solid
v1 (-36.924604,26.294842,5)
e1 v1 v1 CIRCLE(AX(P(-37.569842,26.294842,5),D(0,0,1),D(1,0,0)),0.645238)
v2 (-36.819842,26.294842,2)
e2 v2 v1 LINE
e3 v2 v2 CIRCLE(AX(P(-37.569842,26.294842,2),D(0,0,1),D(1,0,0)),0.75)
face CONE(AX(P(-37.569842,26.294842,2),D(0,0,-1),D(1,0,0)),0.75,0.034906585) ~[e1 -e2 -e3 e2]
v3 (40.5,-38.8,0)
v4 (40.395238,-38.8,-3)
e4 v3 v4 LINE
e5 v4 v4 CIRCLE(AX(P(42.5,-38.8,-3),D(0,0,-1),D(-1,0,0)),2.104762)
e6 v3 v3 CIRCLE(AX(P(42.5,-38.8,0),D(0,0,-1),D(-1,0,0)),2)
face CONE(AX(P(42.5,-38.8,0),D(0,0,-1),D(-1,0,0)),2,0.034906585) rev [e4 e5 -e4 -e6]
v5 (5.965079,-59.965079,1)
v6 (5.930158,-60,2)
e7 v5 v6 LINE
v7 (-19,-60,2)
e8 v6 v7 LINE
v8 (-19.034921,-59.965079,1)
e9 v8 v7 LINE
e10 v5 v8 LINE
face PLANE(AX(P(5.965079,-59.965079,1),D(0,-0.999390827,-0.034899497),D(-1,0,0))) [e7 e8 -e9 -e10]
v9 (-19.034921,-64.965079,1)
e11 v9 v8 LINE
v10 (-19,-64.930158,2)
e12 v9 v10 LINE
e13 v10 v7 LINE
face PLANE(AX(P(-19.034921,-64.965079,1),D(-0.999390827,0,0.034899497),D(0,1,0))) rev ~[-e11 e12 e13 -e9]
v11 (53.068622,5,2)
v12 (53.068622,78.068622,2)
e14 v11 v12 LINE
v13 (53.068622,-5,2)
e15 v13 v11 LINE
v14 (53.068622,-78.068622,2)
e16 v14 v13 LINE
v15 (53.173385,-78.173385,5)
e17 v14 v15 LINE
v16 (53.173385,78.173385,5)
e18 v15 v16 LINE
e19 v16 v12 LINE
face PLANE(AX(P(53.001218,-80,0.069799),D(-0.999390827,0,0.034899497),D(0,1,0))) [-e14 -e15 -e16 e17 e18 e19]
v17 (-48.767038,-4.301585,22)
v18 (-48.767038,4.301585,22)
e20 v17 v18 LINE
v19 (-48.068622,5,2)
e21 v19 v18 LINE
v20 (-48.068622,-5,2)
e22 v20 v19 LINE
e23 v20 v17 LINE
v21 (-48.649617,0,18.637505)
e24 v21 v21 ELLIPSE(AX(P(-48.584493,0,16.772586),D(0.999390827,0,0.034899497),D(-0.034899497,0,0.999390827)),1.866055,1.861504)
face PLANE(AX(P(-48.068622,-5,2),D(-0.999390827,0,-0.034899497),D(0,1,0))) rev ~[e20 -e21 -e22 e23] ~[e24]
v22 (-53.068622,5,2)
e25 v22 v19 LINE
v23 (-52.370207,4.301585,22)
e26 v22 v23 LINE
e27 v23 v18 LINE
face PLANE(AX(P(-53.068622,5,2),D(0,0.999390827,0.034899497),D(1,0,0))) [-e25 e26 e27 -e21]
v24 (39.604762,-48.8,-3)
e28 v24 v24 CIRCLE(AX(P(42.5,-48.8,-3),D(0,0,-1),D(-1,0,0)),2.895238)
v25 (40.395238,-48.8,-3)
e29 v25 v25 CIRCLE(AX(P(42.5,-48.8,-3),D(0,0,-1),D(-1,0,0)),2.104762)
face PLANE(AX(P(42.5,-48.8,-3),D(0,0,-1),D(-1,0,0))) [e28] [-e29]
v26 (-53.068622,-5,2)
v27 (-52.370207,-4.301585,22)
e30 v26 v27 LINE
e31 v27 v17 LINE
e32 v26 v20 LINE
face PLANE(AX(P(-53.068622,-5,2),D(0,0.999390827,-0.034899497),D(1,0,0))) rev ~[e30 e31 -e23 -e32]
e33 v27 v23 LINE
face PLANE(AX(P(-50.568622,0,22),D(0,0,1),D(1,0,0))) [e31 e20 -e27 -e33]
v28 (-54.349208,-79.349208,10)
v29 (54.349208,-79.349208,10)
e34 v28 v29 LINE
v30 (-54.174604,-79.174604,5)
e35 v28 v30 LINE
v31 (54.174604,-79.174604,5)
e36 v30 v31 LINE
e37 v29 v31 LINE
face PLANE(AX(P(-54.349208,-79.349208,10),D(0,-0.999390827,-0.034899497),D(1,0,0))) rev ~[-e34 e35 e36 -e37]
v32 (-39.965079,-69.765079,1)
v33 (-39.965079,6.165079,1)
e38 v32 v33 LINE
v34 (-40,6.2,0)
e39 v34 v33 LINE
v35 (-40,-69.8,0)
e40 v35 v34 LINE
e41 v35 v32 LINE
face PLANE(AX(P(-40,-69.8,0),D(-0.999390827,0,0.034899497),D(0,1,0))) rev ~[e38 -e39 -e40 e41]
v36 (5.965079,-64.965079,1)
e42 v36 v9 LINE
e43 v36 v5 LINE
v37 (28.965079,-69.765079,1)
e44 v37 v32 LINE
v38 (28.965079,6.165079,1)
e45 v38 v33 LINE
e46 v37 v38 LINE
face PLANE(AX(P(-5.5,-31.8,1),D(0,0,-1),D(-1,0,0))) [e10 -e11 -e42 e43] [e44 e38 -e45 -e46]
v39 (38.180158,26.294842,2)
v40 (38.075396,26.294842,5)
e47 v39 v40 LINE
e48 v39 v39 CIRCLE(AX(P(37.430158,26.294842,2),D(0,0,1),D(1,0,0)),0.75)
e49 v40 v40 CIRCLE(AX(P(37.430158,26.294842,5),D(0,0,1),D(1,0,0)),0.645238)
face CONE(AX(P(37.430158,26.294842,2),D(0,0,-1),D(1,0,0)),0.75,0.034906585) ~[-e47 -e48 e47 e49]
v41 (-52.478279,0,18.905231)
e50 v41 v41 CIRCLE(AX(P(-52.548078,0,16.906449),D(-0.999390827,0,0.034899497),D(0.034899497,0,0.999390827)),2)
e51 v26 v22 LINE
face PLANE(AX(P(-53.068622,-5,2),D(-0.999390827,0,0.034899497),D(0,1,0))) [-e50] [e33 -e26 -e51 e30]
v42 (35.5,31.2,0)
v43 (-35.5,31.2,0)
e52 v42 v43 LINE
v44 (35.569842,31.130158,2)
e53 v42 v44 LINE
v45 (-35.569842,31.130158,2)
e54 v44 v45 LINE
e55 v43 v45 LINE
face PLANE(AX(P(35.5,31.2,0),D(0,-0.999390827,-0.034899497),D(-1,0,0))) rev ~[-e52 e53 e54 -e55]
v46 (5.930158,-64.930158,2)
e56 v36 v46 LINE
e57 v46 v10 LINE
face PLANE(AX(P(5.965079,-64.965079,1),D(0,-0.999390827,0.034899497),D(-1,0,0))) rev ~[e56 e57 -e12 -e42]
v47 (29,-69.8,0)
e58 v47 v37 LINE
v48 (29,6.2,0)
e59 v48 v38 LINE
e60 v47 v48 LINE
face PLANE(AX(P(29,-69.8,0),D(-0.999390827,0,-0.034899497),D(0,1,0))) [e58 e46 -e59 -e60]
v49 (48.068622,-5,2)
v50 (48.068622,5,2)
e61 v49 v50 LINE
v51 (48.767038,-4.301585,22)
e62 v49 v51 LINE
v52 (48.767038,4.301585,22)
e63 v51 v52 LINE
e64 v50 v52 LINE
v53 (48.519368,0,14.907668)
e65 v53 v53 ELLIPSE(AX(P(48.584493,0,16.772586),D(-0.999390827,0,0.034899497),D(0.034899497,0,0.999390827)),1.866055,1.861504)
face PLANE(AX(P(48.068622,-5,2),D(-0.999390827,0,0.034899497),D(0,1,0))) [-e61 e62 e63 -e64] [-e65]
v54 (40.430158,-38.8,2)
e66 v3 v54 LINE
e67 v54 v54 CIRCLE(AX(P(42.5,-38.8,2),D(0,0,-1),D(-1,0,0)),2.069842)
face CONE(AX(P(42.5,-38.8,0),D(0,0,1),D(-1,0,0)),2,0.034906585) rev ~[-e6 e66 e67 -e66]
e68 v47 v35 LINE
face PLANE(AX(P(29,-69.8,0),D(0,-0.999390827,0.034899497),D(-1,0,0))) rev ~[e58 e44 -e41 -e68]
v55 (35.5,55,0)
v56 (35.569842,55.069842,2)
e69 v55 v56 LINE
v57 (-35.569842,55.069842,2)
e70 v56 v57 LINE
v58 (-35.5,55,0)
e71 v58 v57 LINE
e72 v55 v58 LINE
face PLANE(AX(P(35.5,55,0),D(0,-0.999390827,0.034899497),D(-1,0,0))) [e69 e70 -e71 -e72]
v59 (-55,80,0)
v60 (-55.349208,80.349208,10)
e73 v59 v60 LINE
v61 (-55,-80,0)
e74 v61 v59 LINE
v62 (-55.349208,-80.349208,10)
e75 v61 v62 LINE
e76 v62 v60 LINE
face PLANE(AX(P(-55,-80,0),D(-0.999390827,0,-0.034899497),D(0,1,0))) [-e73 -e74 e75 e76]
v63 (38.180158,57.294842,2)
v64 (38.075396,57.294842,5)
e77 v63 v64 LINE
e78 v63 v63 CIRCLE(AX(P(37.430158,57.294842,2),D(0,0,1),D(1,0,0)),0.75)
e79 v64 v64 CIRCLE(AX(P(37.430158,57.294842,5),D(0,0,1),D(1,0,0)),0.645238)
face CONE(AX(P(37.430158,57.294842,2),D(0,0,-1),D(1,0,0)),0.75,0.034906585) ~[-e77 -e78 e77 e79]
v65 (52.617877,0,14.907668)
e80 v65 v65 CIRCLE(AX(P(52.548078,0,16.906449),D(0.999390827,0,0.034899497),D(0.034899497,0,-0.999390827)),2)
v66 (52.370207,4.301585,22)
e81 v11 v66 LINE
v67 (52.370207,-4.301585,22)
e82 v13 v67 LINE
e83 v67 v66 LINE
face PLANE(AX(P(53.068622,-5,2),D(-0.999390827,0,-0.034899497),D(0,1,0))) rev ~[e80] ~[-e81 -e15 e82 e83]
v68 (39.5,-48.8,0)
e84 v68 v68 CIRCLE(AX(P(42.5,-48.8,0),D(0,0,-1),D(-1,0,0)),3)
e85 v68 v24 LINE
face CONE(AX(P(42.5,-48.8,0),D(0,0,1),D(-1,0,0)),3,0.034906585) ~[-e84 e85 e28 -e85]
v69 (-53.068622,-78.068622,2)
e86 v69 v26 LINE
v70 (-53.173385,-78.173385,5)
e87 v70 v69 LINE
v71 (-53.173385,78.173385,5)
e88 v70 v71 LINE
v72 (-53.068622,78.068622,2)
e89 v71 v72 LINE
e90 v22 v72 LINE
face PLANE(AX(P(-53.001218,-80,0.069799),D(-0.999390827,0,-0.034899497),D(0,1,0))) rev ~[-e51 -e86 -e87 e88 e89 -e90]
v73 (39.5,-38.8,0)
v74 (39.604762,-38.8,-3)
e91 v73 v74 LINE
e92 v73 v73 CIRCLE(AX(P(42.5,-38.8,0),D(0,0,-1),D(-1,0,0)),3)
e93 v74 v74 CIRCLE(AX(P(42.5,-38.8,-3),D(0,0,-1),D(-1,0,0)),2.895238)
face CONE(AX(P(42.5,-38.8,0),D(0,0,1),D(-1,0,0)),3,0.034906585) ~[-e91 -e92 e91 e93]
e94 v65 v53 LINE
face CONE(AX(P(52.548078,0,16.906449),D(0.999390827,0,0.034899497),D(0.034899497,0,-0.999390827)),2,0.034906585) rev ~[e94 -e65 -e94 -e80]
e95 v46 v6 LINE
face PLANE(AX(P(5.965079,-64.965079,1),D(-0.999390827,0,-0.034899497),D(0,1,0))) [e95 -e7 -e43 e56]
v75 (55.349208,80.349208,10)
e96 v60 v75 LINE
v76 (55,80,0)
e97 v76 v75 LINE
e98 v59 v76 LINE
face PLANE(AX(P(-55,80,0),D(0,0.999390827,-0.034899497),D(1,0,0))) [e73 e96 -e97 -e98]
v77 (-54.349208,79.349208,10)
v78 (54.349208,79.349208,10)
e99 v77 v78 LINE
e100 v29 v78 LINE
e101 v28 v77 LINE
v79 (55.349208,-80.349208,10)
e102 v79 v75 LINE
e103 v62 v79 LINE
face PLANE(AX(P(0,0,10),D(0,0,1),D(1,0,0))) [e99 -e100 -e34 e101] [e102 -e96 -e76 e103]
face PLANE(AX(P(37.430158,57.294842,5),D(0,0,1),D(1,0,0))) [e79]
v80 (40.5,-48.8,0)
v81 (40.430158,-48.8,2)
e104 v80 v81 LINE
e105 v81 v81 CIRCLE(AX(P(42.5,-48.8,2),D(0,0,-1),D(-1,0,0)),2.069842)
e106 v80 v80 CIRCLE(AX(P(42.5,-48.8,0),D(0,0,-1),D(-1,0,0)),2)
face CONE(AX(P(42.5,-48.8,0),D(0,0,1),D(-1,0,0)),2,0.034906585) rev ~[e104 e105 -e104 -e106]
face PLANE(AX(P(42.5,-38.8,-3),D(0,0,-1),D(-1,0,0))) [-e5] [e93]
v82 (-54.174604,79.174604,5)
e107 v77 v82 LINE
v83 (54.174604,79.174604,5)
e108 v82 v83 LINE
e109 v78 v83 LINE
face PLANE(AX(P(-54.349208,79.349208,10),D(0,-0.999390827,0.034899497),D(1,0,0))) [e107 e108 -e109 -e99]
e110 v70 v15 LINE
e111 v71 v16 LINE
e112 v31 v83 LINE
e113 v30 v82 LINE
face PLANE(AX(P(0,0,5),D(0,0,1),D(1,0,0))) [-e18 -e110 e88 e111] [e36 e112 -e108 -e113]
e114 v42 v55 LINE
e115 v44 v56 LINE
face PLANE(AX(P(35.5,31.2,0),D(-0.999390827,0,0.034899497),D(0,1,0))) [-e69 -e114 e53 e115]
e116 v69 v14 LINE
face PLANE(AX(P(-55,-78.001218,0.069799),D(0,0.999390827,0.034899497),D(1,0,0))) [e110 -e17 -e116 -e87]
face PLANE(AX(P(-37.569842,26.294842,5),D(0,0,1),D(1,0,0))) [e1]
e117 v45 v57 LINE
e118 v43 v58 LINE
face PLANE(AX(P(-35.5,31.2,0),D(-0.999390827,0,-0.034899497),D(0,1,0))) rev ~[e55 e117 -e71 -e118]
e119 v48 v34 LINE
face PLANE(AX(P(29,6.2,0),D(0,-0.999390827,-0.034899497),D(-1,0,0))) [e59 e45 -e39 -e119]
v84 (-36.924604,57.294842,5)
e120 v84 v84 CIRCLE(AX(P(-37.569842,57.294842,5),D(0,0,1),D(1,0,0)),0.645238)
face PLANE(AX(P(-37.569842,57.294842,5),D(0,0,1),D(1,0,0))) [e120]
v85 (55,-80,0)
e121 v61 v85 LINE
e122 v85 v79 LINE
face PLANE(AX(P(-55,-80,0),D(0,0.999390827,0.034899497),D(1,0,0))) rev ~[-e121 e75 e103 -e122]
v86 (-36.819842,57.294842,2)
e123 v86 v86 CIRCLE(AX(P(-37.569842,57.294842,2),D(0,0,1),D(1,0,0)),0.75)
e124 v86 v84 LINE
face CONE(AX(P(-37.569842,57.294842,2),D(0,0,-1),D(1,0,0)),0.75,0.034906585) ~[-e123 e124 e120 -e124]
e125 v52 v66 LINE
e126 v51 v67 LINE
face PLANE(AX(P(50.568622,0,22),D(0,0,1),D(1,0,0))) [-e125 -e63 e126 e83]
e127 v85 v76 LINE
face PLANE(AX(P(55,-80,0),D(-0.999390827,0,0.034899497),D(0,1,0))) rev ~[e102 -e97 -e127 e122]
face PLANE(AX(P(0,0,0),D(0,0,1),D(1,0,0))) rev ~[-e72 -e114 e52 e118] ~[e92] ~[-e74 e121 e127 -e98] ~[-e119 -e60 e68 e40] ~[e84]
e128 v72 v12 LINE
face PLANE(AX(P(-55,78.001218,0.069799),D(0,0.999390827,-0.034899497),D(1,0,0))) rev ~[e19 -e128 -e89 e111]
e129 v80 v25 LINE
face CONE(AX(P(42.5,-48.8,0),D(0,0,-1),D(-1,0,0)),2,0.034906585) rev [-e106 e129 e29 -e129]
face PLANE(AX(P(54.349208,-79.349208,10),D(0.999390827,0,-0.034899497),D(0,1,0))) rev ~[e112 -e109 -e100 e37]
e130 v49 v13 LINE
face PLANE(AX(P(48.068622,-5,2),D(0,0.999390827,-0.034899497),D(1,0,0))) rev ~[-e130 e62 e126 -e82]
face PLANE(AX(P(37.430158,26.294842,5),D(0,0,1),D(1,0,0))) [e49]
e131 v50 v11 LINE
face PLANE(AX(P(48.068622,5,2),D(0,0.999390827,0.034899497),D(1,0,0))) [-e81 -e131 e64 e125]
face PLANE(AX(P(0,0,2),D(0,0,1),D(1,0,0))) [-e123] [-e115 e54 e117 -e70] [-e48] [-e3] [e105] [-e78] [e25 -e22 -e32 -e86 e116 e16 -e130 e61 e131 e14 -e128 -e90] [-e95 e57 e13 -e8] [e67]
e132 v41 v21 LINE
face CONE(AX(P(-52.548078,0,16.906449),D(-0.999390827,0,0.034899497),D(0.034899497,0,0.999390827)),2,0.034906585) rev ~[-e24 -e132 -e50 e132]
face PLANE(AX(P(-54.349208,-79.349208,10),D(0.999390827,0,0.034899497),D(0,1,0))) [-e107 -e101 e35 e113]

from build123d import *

# Parameters (mm, degrees)
SKETCH1_W                     = 110
SKETCH1_H                     = 160
BOSS_EXTRUDE1_DEPTH           = 10
BOSS_EXTRUDE1_DRAFT           = -2
SHELL1_T                      = -2
SKETCH3_W                     = 108.69841539
SKETCH3_H                     = 158.69841539
CUT_EXTRUDE3_DEPTH            = 5
CUT_EXTRUDE3_DRAFT            = -2
SKETCH4_W                     = 71
SKETCH4_H                     = 23.8
CUT_EXTRUDE4_DEPTH            = 2
CUT_EXTRUDE4_DRAFT            = 2
SKETCH5_R                     = 3
SKETCH5_R_2                   = 2
BOSS_EXTRUDE2_DEPTH           = 3
BOSS_EXTRUDE2_DRAFT           = 2
BOSS_EXTRUDE2_PROFILE_2_DEPTH = 3
BOSS_EXTRUDE2_PROFILE_2_DRAFT = 2
SKETCH8_R                     = 2
CUT_EXTRUDE5_DEPTH            = 2
CUT_EXTRUDE5_DRAFT            = 2
CUT_EXTRUDE5_PROFILE_2_DEPTH  = 2
CUT_EXTRUDE5_PROFILE_2_DRAFT  = 2
SKETCH10_R                    = 0.75
BOSS_EXTRUDE3_DEPTH           = 3
BOSS_EXTRUDE3_DRAFT           = 2
BOSS_EXTRUDE3_PROFILE_2_DEPTH = 3
BOSS_EXTRUDE3_PROFILE_2_DRAFT = 2
BOSS_EXTRUDE3_PROFILE_3_DEPTH = 3
BOSS_EXTRUDE3_PROFILE_3_DRAFT = 2
BOSS_EXTRUDE3_PROFILE_4_DEPTH = 3
BOSS_EXTRUDE3_PROFILE_4_DRAFT = 2
SKETCH13_W                    = 5
SKETCH13_H                    = 10
BOSS_EXTRUDE8_DEPTH           = 20
BOSS_EXTRUDE8_DRAFT           = 2
BOSS_EXTRUDE8_PROFILE_2_DEPTH = 20
BOSS_EXTRUDE8_PROFILE_2_DRAFT = 2
CUT_EXTRUDE8_REACH            = 138.446
SKETCH21_R                    = 2
CUT_EXTRUDE8_DRAFT            = -2
CUT_EXTRUDE9_REACH            = 138.446
SKETCH22_R                    = 2
CUT_EXTRUDE9_DRAFT            = -2
SKETCH27_W                    = 69
SKETCH27_H                    = 76
CUT_EXTRUDE10_DEPTH           = 1
CUT_EXTRUDE10_DRAFT           = -2
SKETCH28_W                    = 25
SKETCH28_H                    = 5
CUT_EXTRUDE11_DEPTH           = 1
CUT_EXTRUDE11_DRAFT           = -2


with BuildPart() as part:
    # Sketch1 → Boss-Extrude1 (with draft: the straight prism first)
    with BuildSketch(Plane.XY):
        Rectangle(SKETCH1_W, SKETCH1_H)
    extrude(amount=BOSS_EXTRUDE1_DEPTH)
    # Boss-Extrude1: the draft: its side faces are tilted about the plane it starts from
    boss_extrude1_sides = [part.faces().sort_by_distance(p)[0] for p in [
        (55, 0, 5),
        (0, 80, 5),
        (-55, 0, 5),
        (0, -80, 5),
    ]]
    draft(boss_extrude1_sides, Plane.XY, BOSS_EXTRUDE1_DRAFT)

    # Shell1
    shell1_openings = [part.faces().sort_by_distance(p)[0] for p in [
        (0, 0, 10),
    ]]
    offset(amount=SHELL1_T, openings=shell1_openings, kind=Kind.INTERSECTION)


with BuildPart() as cut_extrude3_tool:
    # Sketch3 → Cut-Extrude3 (with draft: the straight prism first)
    with BuildSketch(Plane.XY.offset(10)):
        Rectangle(SKETCH3_W, SKETCH3_H)
    extrude(amount=-CUT_EXTRUDE3_DEPTH)
    # Cut-Extrude3: the draft: its side faces are tilted about the plane it starts from
    cut_extrude3_sides = [cut_extrude3_tool.faces().sort_by_distance(p)[0] for p in [
        (54.349207695, 0, 7.5),
        (0, 79.349207695, 7.5),
        (-54.349207695, 0, 7.5),
        (0, -79.349207695, 7.5),
    ]]
    draft(cut_extrude3_sides, Plane.XY.offset(10), CUT_EXTRUDE3_DRAFT)


with BuildPart() as part_1:
    add(part.part)

    # Cut-Extrude3: cut by cut_extrude3_tool
    add(cut_extrude3_tool.part, mode=Mode.SUBTRACT)


with BuildPart() as cut_extrude4_tool:
    # Sketch4 → Cut-Extrude4 (with draft: the straight prism first)
    with BuildSketch(Plane(origin=(0, 0, 0), x_dir=(-1, 0, 0), z_dir=(0, 0, -1))):
        with Locations((0, 43.1)):
            Rectangle(SKETCH4_W, SKETCH4_H)
    extrude(amount=-CUT_EXTRUDE4_DEPTH)
    # Cut-Extrude4: the draft: its side faces are tilted about the plane it starts from
    cut_extrude4_sides = [cut_extrude4_tool.faces().sort_by_distance(p)[0] for p in [
        (-35.5, 43.1, 1),
        (0, 55, 1),
        (35.5, 43.1, 1),
        (0, 31.2, 1),
    ]]
    draft(cut_extrude4_sides, Plane(origin=(0, 0, 0), x_dir=(-1, 0, 0), z_dir=(0, 0, -1)), CUT_EXTRUDE4_DRAFT)


with BuildPart() as part_2:
    add(part_1.part)

    # Cut-Extrude4: cut by cut_extrude4_tool
    add(cut_extrude4_tool.part, mode=Mode.SUBTRACT)


with BuildPart() as boss_extrude2_tool:
    # Sketch5 → Boss-Extrude2 (with draft: the straight prism first)
    with BuildSketch(Plane(origin=(0, 0, 0), x_dir=(-1, 0, 0), z_dir=(0, 0, -1))):
        with Locations((-42.5, -38.8)):
            Circle(SKETCH5_R)
        with Locations((-42.5, -38.8)):
            Circle(SKETCH5_R_2, mode=Mode.SUBTRACT)
    extrude(amount=BOSS_EXTRUDE2_DEPTH)
    # Boss-Extrude2: the draft: its side faces are tilted about the plane it starts from
    boss_extrude2_sides = [boss_extrude2_tool.faces().sort_by_distance(p)[0] for p in [
        (45.5, -38.8, -1.5),
        (44.5, -38.8, -1.5),
    ]]
    draft(boss_extrude2_sides, Plane(origin=(0, 0, 0), x_dir=(-1, 0, 0), z_dir=(0, 0, -1)), BOSS_EXTRUDE2_DRAFT)


with BuildPart() as part_3:
    add(part_2.part)

    # Boss-Extrude2: add boss_extrude2_tool
    add(boss_extrude2_tool.part)


with BuildPart() as boss_extrude2_profile_2_tool:
    # Sketch5 → Boss-Extrude2 profile 2 (with draft: the straight prism first)
    with BuildSketch(Plane(origin=(0, 0, 0), x_dir=(-1, 0, 0), z_dir=(0, 0, -1))):
        with Locations((-42.5, -48.8)):
            Circle(SKETCH5_R)
        with Locations((-42.5, -48.8)):
            Circle(SKETCH5_R_2, mode=Mode.SUBTRACT)
    extrude(amount=BOSS_EXTRUDE2_PROFILE_2_DEPTH)
    # Boss-Extrude2 profile 2: the draft: its side faces are tilted about the plane it starts from
    boss_extrude2_profile_2_sides = [boss_extrude2_profile_2_tool.faces().sort_by_distance(p)[0] for p in [
        (45.5, -48.8, -1.5),
        (44.5, -48.8, -1.5),
    ]]
    draft(boss_extrude2_profile_2_sides, Plane(origin=(0, 0, 0), x_dir=(-1, 0, 0), z_dir=(0, 0, -1)), BOSS_EXTRUDE2_PROFILE_2_DRAFT)


with BuildPart() as part_4:
    add(part_3.part)

    # Boss-Extrude2 profile 2: add boss_extrude2_profile_2_tool
    add(boss_extrude2_profile_2_tool.part)


with BuildPart() as cut_extrude5_tool:
    # Sketch8 → Cut-Extrude5 (with draft: the straight prism first)
    with BuildSketch(Plane(origin=(0, 0, 0), x_dir=(-1, 0, 0), z_dir=(0, 0, -1))):
        with Locations((-42.5, -48.8)):
            Circle(SKETCH8_R)
    extrude(amount=-CUT_EXTRUDE5_DEPTH)
    # Cut-Extrude5: the draft: its side faces are tilted about the plane it starts from
    cut_extrude5_sides = [cut_extrude5_tool.faces().sort_by_distance(p)[0] for p in [
        (44.5, -48.8, 1),
    ]]
    draft(cut_extrude5_sides, Plane(origin=(0, 0, 0), x_dir=(-1, 0, 0), z_dir=(0, 0, -1)), CUT_EXTRUDE5_DRAFT)


with BuildPart() as part_5:
    add(part_4.part)

    # Cut-Extrude5: cut by cut_extrude5_tool
    add(cut_extrude5_tool.part, mode=Mode.SUBTRACT)


with BuildPart() as cut_extrude5_profile_2_tool:
    # Sketch8 → Cut-Extrude5 profile 2 (with draft: the straight prism first)
    with BuildSketch(Plane(origin=(0, 0, 0), x_dir=(-1, 0, 0), z_dir=(0, 0, -1))):
        with Locations((-42.5, -38.8)):
            Circle(SKETCH8_R)
    extrude(amount=-CUT_EXTRUDE5_PROFILE_2_DEPTH)
    # Cut-Extrude5 profile 2: the draft: its side faces are tilted about the plane it starts from
    cut_extrude5_profile_2_sides = [cut_extrude5_profile_2_tool.faces().sort_by_distance(p)[0] for p in [
        (44.5, -38.8, 1),
    ]]
    draft(cut_extrude5_profile_2_sides, Plane(origin=(0, 0, 0), x_dir=(-1, 0, 0), z_dir=(0, 0, -1)), CUT_EXTRUDE5_PROFILE_2_DRAFT)


with BuildPart() as part_6:
    add(part_5.part)

    # Cut-Extrude5 profile 2: cut by cut_extrude5_profile_2_tool
    add(cut_extrude5_profile_2_tool.part, mode=Mode.SUBTRACT)


with BuildPart() as boss_extrude3_tool:
    # Sketch10 → Boss-Extrude3 (with draft: the straight prism first)
    with BuildSketch(Plane.XY.offset(2)):
        with Locations((-37.569841539, 57.294841539)):
            Circle(SKETCH10_R)
    extrude(amount=BOSS_EXTRUDE3_DEPTH)
    # Boss-Extrude3: the draft: its side faces are tilted about the plane it starts from
    boss_extrude3_sides = [boss_extrude3_tool.faces().sort_by_distance(p)[0] for p in [
        (-38.319841539, 57.294841539, 3.5),
    ]]
    draft(boss_extrude3_sides, Plane.XY.offset(2), BOSS_EXTRUDE3_DRAFT)


with BuildPart() as part_7:
    add(part_6.part)

    # Boss-Extrude3: add boss_extrude3_tool
    add(boss_extrude3_tool.part)


with BuildPart() as boss_extrude3_profile_2_tool:
    # Sketch10 → Boss-Extrude3 profile 2 (with draft: the straight prism first)
    with BuildSketch(Plane.XY.offset(2)):
        with Locations((37.430158461, 57.294841539)):
            Circle(SKETCH10_R)
    extrude(amount=BOSS_EXTRUDE3_PROFILE_2_DEPTH)
    # Boss-Extrude3 profile 2: the draft: its side faces are tilted about the plane it starts from
    boss_extrude3_profile_2_sides = [boss_extrude3_profile_2_tool.faces().sort_by_distance(p)[0] for p in [
        (36.680158461, 57.294841539, 3.5),
    ]]
    draft(boss_extrude3_profile_2_sides, Plane.XY.offset(2), BOSS_EXTRUDE3_PROFILE_2_DRAFT)


with BuildPart() as part_8:
    add(part_7.part)

    # Boss-Extrude3 profile 2: add boss_extrude3_profile_2_tool
    add(boss_extrude3_profile_2_tool.part)


with BuildPart() as boss_extrude3_profile_3_tool:
    # Sketch10 → Boss-Extrude3 profile 3 (with draft: the straight prism first)
    with BuildSketch(Plane.XY.offset(2)):
        with Locations((37.430158461, 26.294841539)):
            Circle(SKETCH10_R)
    extrude(amount=BOSS_EXTRUDE3_PROFILE_3_DEPTH)
    # Boss-Extrude3 profile 3: the draft: its side faces are tilted about the plane it starts from
    boss_extrude3_profile_3_sides = [boss_extrude3_profile_3_tool.faces().sort_by_distance(p)[0] for p in [
        (36.680158461, 26.294841539, 3.5),
    ]]
    draft(boss_extrude3_profile_3_sides, Plane.XY.offset(2), BOSS_EXTRUDE3_PROFILE_3_DRAFT)


with BuildPart() as part_9:
    add(part_8.part)

    # Boss-Extrude3 profile 3: add boss_extrude3_profile_3_tool
    add(boss_extrude3_profile_3_tool.part)


with BuildPart() as boss_extrude3_profile_4_tool:
    # Sketch10 → Boss-Extrude3 profile 4 (with draft: the straight prism first)
    with BuildSketch(Plane.XY.offset(2)):
        with Locations((-37.569841539, 26.294841539)):
            Circle(SKETCH10_R)
    extrude(amount=BOSS_EXTRUDE3_PROFILE_4_DEPTH)
    # Boss-Extrude3 profile 4: the draft: its side faces are tilted about the plane it starts from
    boss_extrude3_profile_4_sides = [boss_extrude3_profile_4_tool.faces().sort_by_distance(p)[0] for p in [
        (-38.319841539, 26.294841539, 3.5),
    ]]
    draft(boss_extrude3_profile_4_sides, Plane.XY.offset(2), BOSS_EXTRUDE3_PROFILE_4_DRAFT)


with BuildPart() as part_10:
    add(part_9.part)

    # Boss-Extrude3 profile 4: add boss_extrude3_profile_4_tool
    add(boss_extrude3_profile_4_tool.part)


with BuildPart() as boss_extrude8_tool:
    # Sketch13 → Boss-Extrude8 (with draft: the straight prism first)
    with BuildSketch(Plane.XY.offset(2)):
        with Locations((-50.56862245, 0)):
            Rectangle(SKETCH13_W, SKETCH13_H)
    extrude(amount=BOSS_EXTRUDE8_DEPTH)
    # Boss-Extrude8: the draft: its side faces are tilted about the plane it starts from
    boss_extrude8_sides = [boss_extrude8_tool.faces().sort_by_distance(p)[0] for p in [
        (-50.56862245, 5, 12),
        (-53.06862245, 0, 12),
        (-50.56862245, -5, 12),
        (-48.06862245, 0, 12),
    ]]
    draft(boss_extrude8_sides, Plane.XY.offset(2), BOSS_EXTRUDE8_DRAFT)


with BuildPart() as part_11:
    add(part_10.part)

    # Boss-Extrude8: add boss_extrude8_tool
    add(boss_extrude8_tool.part)


with BuildPart() as boss_extrude8_profile_2_tool:
    # Sketch13 → Boss-Extrude8 profile 2 (with draft: the straight prism first)
    with BuildSketch(Plane.XY.offset(2)):
        with Locations((50.56862245, 0)):
            Rectangle(SKETCH13_W, SKETCH13_H)
    extrude(amount=BOSS_EXTRUDE8_PROFILE_2_DEPTH)
    # Boss-Extrude8 profile 2: the draft: its side faces are tilted about the plane it starts from
    boss_extrude8_profile_2_sides = [boss_extrude8_profile_2_tool.faces().sort_by_distance(p)[0] for p in [
        (50.56862245, -5, 12),
        (53.06862245, 0, 12),
        (50.56862245, 5, 12),
        (48.06862245, 0, 12),
    ]]
    draft(boss_extrude8_profile_2_sides, Plane.XY.offset(2), BOSS_EXTRUDE8_PROFILE_2_DRAFT)


with BuildPart() as part_12:
    add(part_11.part)

    # Boss-Extrude8 profile 2: add boss_extrude8_profile_2_tool
    add(boss_extrude8_profile_2_tool.part)

    # Cut-Extrude8: up to this plane
    cut_extrude8_end = Plane(origin=(-48.06862245, 5, 2), z_dir=(0.9993908270190958, 0, 0.034899496702501004))



with BuildPart() as cut_extrude8_long_prism_1:
    # Sketch21 → Cut-Extrude8 (the long prism of profile 1, to be tilted and cut off)
    with BuildSketch(Plane(origin=(-53.073742676, 0, 1.853375934), x_dir=(0.03489949670250101, 0, 0.9993908270190958), z_dir=(-0.9993908270190958, 0, 0.03489949670250101))):
        with Locations((15.062248779, 0)):
            Circle(SKETCH21_R)
    extrude(amount=-CUT_EXTRUDE8_REACH)
    cut_extrude8_tool1_sides = [cut_extrude8_long_prism_1.faces().sort_by_distance(p)[0] for p in [
        (16.562954451, 0, 12.491819684),
    ]]
    draft(cut_extrude8_tool1_sides, Plane(origin=(-53.073742676, 0, 1.853375934), x_dir=(0.03489949670250101, 0, 0.9993908270190958), z_dir=(-0.9993908270190958, 0, 0.03489949670250101)), CUT_EXTRUDE8_DRAFT)  # the draft: side faces tilted about the start plane


with BuildPart() as part_13:
    add(part_12.part)
    cut_extrude8_tool1 = split(cut_extrude8_long_prism_1.part, bisect_by=cut_extrude8_end, keep=Keep.BOTH, mode=Mode.PRIVATE)
    add(cut_extrude8_tool1.solids().sort_by_distance((-52.548078, 0, 16.906449))[0], mode=Mode.SUBTRACT)

    # Cut-Extrude9: up to this plane
    cut_extrude9_end = Plane(origin=(48.06862245, -5, 2), z_dir=(-0.9993908270190958, 0, 0.034899496702501004))



with BuildPart() as cut_extrude9_long_prism_1:
    # Sketch22 → Cut-Extrude9 (the long prism of profile 1, to be tilted and cut off)
    with BuildSketch(Plane(origin=(53.073742676, 0, 1.853375934), x_dir=(0.03489949670250101, 0, -0.9993908270190958), z_dir=(0.9993908270190958, 0, 0.03489949670250101))):
        with Locations((-15.062248779, 0)):
            Circle(SKETCH22_R)
    extrude(amount=-CUT_EXTRUDE9_REACH)
    cut_extrude9_tool1_sides = [cut_extrude9_long_prism_1.faces().sort_by_distance(p)[0] for p in [
        (-16.702552438, 0, 16.489382992),
    ]]
    draft(cut_extrude9_tool1_sides, Plane(origin=(53.073742676, 0, 1.853375934), x_dir=(0.03489949670250101, 0, -0.9993908270190958), z_dir=(0.9993908270190958, 0, 0.03489949670250101)), CUT_EXTRUDE9_DRAFT)  # the draft: side faces tilted about the start plane


with BuildPart() as part_14:
    add(part_13.part)
    cut_extrude9_tool1 = split(cut_extrude9_long_prism_1.part, bisect_by=cut_extrude9_end, keep=Keep.BOTH, mode=Mode.PRIVATE)
    add(cut_extrude9_tool1.solids().sort_by_distance((52.548078, 0, 16.906449))[0], mode=Mode.SUBTRACT)


with BuildPart() as cut_extrude10_tool:
    # Sketch27 → Cut-Extrude10 (with draft: the straight prism first)
    with BuildSketch(Plane(origin=(0, 0, 0), x_dir=(-1, 0, 0), z_dir=(0, 0, -1))):
        with Locations((5.5, -31.8)):
            Rectangle(SKETCH27_W, SKETCH27_H)
    extrude(amount=-CUT_EXTRUDE10_DEPTH)
    # Cut-Extrude10: the draft: its side faces are tilted about the plane it starts from
    cut_extrude10_sides = [cut_extrude10_tool.faces().sort_by_distance(p)[0] for p in [
        (-40, -31.8, 0.5),
        (-5.5, 6.2, 0.5),
        (29, -31.8, 0.5),
        (-5.5, -69.8, 0.5),
    ]]
    draft(cut_extrude10_sides, Plane(origin=(0, 0, 0), x_dir=(-1, 0, 0), z_dir=(0, 0, -1)), CUT_EXTRUDE10_DRAFT)


with BuildPart() as part_15:
    add(part_14.part)

    # Cut-Extrude10: cut by cut_extrude10_tool
    add(cut_extrude10_tool.part, mode=Mode.SUBTRACT)


with BuildPart() as cut_extrude11_tool:
    # Sketch28 → Cut-Extrude11 (with draft: the straight prism first)
    with BuildSketch(Plane(origin=(0, 0, 1), x_dir=(-1, 0, 0), z_dir=(0, 0, -1))):
        with Locations((6.534920769, -62.465079231)):
            Rectangle(SKETCH28_W, SKETCH28_H)
    extrude(amount=-CUT_EXTRUDE11_DEPTH)
    # Cut-Extrude11: the draft: its side faces are tilted about the plane it starts from
    cut_extrude11_sides = [cut_extrude11_tool.faces().sort_by_distance(p)[0] for p in [
        (-6.534920769, -59.965079231, 1.5),
        (5.965079231, -62.465079231, 1.5),
        (-6.534920769, -64.965079231, 1.5),
        (-19.034920769, -62.465079231, 1.5),
    ]]
    draft(cut_extrude11_sides, Plane(origin=(0, 0, 1), x_dir=(-1, 0, 0), z_dir=(0, 0, -1)), CUT_EXTRUDE11_DRAFT)


with BuildPart() as part_16:
    add(part_15.part)

    # Cut-Extrude11: cut by cut_extrude11_tool
    add(cut_extrude11_tool.part, mode=Mode.SUBTRACT)


solid = part_16.part
